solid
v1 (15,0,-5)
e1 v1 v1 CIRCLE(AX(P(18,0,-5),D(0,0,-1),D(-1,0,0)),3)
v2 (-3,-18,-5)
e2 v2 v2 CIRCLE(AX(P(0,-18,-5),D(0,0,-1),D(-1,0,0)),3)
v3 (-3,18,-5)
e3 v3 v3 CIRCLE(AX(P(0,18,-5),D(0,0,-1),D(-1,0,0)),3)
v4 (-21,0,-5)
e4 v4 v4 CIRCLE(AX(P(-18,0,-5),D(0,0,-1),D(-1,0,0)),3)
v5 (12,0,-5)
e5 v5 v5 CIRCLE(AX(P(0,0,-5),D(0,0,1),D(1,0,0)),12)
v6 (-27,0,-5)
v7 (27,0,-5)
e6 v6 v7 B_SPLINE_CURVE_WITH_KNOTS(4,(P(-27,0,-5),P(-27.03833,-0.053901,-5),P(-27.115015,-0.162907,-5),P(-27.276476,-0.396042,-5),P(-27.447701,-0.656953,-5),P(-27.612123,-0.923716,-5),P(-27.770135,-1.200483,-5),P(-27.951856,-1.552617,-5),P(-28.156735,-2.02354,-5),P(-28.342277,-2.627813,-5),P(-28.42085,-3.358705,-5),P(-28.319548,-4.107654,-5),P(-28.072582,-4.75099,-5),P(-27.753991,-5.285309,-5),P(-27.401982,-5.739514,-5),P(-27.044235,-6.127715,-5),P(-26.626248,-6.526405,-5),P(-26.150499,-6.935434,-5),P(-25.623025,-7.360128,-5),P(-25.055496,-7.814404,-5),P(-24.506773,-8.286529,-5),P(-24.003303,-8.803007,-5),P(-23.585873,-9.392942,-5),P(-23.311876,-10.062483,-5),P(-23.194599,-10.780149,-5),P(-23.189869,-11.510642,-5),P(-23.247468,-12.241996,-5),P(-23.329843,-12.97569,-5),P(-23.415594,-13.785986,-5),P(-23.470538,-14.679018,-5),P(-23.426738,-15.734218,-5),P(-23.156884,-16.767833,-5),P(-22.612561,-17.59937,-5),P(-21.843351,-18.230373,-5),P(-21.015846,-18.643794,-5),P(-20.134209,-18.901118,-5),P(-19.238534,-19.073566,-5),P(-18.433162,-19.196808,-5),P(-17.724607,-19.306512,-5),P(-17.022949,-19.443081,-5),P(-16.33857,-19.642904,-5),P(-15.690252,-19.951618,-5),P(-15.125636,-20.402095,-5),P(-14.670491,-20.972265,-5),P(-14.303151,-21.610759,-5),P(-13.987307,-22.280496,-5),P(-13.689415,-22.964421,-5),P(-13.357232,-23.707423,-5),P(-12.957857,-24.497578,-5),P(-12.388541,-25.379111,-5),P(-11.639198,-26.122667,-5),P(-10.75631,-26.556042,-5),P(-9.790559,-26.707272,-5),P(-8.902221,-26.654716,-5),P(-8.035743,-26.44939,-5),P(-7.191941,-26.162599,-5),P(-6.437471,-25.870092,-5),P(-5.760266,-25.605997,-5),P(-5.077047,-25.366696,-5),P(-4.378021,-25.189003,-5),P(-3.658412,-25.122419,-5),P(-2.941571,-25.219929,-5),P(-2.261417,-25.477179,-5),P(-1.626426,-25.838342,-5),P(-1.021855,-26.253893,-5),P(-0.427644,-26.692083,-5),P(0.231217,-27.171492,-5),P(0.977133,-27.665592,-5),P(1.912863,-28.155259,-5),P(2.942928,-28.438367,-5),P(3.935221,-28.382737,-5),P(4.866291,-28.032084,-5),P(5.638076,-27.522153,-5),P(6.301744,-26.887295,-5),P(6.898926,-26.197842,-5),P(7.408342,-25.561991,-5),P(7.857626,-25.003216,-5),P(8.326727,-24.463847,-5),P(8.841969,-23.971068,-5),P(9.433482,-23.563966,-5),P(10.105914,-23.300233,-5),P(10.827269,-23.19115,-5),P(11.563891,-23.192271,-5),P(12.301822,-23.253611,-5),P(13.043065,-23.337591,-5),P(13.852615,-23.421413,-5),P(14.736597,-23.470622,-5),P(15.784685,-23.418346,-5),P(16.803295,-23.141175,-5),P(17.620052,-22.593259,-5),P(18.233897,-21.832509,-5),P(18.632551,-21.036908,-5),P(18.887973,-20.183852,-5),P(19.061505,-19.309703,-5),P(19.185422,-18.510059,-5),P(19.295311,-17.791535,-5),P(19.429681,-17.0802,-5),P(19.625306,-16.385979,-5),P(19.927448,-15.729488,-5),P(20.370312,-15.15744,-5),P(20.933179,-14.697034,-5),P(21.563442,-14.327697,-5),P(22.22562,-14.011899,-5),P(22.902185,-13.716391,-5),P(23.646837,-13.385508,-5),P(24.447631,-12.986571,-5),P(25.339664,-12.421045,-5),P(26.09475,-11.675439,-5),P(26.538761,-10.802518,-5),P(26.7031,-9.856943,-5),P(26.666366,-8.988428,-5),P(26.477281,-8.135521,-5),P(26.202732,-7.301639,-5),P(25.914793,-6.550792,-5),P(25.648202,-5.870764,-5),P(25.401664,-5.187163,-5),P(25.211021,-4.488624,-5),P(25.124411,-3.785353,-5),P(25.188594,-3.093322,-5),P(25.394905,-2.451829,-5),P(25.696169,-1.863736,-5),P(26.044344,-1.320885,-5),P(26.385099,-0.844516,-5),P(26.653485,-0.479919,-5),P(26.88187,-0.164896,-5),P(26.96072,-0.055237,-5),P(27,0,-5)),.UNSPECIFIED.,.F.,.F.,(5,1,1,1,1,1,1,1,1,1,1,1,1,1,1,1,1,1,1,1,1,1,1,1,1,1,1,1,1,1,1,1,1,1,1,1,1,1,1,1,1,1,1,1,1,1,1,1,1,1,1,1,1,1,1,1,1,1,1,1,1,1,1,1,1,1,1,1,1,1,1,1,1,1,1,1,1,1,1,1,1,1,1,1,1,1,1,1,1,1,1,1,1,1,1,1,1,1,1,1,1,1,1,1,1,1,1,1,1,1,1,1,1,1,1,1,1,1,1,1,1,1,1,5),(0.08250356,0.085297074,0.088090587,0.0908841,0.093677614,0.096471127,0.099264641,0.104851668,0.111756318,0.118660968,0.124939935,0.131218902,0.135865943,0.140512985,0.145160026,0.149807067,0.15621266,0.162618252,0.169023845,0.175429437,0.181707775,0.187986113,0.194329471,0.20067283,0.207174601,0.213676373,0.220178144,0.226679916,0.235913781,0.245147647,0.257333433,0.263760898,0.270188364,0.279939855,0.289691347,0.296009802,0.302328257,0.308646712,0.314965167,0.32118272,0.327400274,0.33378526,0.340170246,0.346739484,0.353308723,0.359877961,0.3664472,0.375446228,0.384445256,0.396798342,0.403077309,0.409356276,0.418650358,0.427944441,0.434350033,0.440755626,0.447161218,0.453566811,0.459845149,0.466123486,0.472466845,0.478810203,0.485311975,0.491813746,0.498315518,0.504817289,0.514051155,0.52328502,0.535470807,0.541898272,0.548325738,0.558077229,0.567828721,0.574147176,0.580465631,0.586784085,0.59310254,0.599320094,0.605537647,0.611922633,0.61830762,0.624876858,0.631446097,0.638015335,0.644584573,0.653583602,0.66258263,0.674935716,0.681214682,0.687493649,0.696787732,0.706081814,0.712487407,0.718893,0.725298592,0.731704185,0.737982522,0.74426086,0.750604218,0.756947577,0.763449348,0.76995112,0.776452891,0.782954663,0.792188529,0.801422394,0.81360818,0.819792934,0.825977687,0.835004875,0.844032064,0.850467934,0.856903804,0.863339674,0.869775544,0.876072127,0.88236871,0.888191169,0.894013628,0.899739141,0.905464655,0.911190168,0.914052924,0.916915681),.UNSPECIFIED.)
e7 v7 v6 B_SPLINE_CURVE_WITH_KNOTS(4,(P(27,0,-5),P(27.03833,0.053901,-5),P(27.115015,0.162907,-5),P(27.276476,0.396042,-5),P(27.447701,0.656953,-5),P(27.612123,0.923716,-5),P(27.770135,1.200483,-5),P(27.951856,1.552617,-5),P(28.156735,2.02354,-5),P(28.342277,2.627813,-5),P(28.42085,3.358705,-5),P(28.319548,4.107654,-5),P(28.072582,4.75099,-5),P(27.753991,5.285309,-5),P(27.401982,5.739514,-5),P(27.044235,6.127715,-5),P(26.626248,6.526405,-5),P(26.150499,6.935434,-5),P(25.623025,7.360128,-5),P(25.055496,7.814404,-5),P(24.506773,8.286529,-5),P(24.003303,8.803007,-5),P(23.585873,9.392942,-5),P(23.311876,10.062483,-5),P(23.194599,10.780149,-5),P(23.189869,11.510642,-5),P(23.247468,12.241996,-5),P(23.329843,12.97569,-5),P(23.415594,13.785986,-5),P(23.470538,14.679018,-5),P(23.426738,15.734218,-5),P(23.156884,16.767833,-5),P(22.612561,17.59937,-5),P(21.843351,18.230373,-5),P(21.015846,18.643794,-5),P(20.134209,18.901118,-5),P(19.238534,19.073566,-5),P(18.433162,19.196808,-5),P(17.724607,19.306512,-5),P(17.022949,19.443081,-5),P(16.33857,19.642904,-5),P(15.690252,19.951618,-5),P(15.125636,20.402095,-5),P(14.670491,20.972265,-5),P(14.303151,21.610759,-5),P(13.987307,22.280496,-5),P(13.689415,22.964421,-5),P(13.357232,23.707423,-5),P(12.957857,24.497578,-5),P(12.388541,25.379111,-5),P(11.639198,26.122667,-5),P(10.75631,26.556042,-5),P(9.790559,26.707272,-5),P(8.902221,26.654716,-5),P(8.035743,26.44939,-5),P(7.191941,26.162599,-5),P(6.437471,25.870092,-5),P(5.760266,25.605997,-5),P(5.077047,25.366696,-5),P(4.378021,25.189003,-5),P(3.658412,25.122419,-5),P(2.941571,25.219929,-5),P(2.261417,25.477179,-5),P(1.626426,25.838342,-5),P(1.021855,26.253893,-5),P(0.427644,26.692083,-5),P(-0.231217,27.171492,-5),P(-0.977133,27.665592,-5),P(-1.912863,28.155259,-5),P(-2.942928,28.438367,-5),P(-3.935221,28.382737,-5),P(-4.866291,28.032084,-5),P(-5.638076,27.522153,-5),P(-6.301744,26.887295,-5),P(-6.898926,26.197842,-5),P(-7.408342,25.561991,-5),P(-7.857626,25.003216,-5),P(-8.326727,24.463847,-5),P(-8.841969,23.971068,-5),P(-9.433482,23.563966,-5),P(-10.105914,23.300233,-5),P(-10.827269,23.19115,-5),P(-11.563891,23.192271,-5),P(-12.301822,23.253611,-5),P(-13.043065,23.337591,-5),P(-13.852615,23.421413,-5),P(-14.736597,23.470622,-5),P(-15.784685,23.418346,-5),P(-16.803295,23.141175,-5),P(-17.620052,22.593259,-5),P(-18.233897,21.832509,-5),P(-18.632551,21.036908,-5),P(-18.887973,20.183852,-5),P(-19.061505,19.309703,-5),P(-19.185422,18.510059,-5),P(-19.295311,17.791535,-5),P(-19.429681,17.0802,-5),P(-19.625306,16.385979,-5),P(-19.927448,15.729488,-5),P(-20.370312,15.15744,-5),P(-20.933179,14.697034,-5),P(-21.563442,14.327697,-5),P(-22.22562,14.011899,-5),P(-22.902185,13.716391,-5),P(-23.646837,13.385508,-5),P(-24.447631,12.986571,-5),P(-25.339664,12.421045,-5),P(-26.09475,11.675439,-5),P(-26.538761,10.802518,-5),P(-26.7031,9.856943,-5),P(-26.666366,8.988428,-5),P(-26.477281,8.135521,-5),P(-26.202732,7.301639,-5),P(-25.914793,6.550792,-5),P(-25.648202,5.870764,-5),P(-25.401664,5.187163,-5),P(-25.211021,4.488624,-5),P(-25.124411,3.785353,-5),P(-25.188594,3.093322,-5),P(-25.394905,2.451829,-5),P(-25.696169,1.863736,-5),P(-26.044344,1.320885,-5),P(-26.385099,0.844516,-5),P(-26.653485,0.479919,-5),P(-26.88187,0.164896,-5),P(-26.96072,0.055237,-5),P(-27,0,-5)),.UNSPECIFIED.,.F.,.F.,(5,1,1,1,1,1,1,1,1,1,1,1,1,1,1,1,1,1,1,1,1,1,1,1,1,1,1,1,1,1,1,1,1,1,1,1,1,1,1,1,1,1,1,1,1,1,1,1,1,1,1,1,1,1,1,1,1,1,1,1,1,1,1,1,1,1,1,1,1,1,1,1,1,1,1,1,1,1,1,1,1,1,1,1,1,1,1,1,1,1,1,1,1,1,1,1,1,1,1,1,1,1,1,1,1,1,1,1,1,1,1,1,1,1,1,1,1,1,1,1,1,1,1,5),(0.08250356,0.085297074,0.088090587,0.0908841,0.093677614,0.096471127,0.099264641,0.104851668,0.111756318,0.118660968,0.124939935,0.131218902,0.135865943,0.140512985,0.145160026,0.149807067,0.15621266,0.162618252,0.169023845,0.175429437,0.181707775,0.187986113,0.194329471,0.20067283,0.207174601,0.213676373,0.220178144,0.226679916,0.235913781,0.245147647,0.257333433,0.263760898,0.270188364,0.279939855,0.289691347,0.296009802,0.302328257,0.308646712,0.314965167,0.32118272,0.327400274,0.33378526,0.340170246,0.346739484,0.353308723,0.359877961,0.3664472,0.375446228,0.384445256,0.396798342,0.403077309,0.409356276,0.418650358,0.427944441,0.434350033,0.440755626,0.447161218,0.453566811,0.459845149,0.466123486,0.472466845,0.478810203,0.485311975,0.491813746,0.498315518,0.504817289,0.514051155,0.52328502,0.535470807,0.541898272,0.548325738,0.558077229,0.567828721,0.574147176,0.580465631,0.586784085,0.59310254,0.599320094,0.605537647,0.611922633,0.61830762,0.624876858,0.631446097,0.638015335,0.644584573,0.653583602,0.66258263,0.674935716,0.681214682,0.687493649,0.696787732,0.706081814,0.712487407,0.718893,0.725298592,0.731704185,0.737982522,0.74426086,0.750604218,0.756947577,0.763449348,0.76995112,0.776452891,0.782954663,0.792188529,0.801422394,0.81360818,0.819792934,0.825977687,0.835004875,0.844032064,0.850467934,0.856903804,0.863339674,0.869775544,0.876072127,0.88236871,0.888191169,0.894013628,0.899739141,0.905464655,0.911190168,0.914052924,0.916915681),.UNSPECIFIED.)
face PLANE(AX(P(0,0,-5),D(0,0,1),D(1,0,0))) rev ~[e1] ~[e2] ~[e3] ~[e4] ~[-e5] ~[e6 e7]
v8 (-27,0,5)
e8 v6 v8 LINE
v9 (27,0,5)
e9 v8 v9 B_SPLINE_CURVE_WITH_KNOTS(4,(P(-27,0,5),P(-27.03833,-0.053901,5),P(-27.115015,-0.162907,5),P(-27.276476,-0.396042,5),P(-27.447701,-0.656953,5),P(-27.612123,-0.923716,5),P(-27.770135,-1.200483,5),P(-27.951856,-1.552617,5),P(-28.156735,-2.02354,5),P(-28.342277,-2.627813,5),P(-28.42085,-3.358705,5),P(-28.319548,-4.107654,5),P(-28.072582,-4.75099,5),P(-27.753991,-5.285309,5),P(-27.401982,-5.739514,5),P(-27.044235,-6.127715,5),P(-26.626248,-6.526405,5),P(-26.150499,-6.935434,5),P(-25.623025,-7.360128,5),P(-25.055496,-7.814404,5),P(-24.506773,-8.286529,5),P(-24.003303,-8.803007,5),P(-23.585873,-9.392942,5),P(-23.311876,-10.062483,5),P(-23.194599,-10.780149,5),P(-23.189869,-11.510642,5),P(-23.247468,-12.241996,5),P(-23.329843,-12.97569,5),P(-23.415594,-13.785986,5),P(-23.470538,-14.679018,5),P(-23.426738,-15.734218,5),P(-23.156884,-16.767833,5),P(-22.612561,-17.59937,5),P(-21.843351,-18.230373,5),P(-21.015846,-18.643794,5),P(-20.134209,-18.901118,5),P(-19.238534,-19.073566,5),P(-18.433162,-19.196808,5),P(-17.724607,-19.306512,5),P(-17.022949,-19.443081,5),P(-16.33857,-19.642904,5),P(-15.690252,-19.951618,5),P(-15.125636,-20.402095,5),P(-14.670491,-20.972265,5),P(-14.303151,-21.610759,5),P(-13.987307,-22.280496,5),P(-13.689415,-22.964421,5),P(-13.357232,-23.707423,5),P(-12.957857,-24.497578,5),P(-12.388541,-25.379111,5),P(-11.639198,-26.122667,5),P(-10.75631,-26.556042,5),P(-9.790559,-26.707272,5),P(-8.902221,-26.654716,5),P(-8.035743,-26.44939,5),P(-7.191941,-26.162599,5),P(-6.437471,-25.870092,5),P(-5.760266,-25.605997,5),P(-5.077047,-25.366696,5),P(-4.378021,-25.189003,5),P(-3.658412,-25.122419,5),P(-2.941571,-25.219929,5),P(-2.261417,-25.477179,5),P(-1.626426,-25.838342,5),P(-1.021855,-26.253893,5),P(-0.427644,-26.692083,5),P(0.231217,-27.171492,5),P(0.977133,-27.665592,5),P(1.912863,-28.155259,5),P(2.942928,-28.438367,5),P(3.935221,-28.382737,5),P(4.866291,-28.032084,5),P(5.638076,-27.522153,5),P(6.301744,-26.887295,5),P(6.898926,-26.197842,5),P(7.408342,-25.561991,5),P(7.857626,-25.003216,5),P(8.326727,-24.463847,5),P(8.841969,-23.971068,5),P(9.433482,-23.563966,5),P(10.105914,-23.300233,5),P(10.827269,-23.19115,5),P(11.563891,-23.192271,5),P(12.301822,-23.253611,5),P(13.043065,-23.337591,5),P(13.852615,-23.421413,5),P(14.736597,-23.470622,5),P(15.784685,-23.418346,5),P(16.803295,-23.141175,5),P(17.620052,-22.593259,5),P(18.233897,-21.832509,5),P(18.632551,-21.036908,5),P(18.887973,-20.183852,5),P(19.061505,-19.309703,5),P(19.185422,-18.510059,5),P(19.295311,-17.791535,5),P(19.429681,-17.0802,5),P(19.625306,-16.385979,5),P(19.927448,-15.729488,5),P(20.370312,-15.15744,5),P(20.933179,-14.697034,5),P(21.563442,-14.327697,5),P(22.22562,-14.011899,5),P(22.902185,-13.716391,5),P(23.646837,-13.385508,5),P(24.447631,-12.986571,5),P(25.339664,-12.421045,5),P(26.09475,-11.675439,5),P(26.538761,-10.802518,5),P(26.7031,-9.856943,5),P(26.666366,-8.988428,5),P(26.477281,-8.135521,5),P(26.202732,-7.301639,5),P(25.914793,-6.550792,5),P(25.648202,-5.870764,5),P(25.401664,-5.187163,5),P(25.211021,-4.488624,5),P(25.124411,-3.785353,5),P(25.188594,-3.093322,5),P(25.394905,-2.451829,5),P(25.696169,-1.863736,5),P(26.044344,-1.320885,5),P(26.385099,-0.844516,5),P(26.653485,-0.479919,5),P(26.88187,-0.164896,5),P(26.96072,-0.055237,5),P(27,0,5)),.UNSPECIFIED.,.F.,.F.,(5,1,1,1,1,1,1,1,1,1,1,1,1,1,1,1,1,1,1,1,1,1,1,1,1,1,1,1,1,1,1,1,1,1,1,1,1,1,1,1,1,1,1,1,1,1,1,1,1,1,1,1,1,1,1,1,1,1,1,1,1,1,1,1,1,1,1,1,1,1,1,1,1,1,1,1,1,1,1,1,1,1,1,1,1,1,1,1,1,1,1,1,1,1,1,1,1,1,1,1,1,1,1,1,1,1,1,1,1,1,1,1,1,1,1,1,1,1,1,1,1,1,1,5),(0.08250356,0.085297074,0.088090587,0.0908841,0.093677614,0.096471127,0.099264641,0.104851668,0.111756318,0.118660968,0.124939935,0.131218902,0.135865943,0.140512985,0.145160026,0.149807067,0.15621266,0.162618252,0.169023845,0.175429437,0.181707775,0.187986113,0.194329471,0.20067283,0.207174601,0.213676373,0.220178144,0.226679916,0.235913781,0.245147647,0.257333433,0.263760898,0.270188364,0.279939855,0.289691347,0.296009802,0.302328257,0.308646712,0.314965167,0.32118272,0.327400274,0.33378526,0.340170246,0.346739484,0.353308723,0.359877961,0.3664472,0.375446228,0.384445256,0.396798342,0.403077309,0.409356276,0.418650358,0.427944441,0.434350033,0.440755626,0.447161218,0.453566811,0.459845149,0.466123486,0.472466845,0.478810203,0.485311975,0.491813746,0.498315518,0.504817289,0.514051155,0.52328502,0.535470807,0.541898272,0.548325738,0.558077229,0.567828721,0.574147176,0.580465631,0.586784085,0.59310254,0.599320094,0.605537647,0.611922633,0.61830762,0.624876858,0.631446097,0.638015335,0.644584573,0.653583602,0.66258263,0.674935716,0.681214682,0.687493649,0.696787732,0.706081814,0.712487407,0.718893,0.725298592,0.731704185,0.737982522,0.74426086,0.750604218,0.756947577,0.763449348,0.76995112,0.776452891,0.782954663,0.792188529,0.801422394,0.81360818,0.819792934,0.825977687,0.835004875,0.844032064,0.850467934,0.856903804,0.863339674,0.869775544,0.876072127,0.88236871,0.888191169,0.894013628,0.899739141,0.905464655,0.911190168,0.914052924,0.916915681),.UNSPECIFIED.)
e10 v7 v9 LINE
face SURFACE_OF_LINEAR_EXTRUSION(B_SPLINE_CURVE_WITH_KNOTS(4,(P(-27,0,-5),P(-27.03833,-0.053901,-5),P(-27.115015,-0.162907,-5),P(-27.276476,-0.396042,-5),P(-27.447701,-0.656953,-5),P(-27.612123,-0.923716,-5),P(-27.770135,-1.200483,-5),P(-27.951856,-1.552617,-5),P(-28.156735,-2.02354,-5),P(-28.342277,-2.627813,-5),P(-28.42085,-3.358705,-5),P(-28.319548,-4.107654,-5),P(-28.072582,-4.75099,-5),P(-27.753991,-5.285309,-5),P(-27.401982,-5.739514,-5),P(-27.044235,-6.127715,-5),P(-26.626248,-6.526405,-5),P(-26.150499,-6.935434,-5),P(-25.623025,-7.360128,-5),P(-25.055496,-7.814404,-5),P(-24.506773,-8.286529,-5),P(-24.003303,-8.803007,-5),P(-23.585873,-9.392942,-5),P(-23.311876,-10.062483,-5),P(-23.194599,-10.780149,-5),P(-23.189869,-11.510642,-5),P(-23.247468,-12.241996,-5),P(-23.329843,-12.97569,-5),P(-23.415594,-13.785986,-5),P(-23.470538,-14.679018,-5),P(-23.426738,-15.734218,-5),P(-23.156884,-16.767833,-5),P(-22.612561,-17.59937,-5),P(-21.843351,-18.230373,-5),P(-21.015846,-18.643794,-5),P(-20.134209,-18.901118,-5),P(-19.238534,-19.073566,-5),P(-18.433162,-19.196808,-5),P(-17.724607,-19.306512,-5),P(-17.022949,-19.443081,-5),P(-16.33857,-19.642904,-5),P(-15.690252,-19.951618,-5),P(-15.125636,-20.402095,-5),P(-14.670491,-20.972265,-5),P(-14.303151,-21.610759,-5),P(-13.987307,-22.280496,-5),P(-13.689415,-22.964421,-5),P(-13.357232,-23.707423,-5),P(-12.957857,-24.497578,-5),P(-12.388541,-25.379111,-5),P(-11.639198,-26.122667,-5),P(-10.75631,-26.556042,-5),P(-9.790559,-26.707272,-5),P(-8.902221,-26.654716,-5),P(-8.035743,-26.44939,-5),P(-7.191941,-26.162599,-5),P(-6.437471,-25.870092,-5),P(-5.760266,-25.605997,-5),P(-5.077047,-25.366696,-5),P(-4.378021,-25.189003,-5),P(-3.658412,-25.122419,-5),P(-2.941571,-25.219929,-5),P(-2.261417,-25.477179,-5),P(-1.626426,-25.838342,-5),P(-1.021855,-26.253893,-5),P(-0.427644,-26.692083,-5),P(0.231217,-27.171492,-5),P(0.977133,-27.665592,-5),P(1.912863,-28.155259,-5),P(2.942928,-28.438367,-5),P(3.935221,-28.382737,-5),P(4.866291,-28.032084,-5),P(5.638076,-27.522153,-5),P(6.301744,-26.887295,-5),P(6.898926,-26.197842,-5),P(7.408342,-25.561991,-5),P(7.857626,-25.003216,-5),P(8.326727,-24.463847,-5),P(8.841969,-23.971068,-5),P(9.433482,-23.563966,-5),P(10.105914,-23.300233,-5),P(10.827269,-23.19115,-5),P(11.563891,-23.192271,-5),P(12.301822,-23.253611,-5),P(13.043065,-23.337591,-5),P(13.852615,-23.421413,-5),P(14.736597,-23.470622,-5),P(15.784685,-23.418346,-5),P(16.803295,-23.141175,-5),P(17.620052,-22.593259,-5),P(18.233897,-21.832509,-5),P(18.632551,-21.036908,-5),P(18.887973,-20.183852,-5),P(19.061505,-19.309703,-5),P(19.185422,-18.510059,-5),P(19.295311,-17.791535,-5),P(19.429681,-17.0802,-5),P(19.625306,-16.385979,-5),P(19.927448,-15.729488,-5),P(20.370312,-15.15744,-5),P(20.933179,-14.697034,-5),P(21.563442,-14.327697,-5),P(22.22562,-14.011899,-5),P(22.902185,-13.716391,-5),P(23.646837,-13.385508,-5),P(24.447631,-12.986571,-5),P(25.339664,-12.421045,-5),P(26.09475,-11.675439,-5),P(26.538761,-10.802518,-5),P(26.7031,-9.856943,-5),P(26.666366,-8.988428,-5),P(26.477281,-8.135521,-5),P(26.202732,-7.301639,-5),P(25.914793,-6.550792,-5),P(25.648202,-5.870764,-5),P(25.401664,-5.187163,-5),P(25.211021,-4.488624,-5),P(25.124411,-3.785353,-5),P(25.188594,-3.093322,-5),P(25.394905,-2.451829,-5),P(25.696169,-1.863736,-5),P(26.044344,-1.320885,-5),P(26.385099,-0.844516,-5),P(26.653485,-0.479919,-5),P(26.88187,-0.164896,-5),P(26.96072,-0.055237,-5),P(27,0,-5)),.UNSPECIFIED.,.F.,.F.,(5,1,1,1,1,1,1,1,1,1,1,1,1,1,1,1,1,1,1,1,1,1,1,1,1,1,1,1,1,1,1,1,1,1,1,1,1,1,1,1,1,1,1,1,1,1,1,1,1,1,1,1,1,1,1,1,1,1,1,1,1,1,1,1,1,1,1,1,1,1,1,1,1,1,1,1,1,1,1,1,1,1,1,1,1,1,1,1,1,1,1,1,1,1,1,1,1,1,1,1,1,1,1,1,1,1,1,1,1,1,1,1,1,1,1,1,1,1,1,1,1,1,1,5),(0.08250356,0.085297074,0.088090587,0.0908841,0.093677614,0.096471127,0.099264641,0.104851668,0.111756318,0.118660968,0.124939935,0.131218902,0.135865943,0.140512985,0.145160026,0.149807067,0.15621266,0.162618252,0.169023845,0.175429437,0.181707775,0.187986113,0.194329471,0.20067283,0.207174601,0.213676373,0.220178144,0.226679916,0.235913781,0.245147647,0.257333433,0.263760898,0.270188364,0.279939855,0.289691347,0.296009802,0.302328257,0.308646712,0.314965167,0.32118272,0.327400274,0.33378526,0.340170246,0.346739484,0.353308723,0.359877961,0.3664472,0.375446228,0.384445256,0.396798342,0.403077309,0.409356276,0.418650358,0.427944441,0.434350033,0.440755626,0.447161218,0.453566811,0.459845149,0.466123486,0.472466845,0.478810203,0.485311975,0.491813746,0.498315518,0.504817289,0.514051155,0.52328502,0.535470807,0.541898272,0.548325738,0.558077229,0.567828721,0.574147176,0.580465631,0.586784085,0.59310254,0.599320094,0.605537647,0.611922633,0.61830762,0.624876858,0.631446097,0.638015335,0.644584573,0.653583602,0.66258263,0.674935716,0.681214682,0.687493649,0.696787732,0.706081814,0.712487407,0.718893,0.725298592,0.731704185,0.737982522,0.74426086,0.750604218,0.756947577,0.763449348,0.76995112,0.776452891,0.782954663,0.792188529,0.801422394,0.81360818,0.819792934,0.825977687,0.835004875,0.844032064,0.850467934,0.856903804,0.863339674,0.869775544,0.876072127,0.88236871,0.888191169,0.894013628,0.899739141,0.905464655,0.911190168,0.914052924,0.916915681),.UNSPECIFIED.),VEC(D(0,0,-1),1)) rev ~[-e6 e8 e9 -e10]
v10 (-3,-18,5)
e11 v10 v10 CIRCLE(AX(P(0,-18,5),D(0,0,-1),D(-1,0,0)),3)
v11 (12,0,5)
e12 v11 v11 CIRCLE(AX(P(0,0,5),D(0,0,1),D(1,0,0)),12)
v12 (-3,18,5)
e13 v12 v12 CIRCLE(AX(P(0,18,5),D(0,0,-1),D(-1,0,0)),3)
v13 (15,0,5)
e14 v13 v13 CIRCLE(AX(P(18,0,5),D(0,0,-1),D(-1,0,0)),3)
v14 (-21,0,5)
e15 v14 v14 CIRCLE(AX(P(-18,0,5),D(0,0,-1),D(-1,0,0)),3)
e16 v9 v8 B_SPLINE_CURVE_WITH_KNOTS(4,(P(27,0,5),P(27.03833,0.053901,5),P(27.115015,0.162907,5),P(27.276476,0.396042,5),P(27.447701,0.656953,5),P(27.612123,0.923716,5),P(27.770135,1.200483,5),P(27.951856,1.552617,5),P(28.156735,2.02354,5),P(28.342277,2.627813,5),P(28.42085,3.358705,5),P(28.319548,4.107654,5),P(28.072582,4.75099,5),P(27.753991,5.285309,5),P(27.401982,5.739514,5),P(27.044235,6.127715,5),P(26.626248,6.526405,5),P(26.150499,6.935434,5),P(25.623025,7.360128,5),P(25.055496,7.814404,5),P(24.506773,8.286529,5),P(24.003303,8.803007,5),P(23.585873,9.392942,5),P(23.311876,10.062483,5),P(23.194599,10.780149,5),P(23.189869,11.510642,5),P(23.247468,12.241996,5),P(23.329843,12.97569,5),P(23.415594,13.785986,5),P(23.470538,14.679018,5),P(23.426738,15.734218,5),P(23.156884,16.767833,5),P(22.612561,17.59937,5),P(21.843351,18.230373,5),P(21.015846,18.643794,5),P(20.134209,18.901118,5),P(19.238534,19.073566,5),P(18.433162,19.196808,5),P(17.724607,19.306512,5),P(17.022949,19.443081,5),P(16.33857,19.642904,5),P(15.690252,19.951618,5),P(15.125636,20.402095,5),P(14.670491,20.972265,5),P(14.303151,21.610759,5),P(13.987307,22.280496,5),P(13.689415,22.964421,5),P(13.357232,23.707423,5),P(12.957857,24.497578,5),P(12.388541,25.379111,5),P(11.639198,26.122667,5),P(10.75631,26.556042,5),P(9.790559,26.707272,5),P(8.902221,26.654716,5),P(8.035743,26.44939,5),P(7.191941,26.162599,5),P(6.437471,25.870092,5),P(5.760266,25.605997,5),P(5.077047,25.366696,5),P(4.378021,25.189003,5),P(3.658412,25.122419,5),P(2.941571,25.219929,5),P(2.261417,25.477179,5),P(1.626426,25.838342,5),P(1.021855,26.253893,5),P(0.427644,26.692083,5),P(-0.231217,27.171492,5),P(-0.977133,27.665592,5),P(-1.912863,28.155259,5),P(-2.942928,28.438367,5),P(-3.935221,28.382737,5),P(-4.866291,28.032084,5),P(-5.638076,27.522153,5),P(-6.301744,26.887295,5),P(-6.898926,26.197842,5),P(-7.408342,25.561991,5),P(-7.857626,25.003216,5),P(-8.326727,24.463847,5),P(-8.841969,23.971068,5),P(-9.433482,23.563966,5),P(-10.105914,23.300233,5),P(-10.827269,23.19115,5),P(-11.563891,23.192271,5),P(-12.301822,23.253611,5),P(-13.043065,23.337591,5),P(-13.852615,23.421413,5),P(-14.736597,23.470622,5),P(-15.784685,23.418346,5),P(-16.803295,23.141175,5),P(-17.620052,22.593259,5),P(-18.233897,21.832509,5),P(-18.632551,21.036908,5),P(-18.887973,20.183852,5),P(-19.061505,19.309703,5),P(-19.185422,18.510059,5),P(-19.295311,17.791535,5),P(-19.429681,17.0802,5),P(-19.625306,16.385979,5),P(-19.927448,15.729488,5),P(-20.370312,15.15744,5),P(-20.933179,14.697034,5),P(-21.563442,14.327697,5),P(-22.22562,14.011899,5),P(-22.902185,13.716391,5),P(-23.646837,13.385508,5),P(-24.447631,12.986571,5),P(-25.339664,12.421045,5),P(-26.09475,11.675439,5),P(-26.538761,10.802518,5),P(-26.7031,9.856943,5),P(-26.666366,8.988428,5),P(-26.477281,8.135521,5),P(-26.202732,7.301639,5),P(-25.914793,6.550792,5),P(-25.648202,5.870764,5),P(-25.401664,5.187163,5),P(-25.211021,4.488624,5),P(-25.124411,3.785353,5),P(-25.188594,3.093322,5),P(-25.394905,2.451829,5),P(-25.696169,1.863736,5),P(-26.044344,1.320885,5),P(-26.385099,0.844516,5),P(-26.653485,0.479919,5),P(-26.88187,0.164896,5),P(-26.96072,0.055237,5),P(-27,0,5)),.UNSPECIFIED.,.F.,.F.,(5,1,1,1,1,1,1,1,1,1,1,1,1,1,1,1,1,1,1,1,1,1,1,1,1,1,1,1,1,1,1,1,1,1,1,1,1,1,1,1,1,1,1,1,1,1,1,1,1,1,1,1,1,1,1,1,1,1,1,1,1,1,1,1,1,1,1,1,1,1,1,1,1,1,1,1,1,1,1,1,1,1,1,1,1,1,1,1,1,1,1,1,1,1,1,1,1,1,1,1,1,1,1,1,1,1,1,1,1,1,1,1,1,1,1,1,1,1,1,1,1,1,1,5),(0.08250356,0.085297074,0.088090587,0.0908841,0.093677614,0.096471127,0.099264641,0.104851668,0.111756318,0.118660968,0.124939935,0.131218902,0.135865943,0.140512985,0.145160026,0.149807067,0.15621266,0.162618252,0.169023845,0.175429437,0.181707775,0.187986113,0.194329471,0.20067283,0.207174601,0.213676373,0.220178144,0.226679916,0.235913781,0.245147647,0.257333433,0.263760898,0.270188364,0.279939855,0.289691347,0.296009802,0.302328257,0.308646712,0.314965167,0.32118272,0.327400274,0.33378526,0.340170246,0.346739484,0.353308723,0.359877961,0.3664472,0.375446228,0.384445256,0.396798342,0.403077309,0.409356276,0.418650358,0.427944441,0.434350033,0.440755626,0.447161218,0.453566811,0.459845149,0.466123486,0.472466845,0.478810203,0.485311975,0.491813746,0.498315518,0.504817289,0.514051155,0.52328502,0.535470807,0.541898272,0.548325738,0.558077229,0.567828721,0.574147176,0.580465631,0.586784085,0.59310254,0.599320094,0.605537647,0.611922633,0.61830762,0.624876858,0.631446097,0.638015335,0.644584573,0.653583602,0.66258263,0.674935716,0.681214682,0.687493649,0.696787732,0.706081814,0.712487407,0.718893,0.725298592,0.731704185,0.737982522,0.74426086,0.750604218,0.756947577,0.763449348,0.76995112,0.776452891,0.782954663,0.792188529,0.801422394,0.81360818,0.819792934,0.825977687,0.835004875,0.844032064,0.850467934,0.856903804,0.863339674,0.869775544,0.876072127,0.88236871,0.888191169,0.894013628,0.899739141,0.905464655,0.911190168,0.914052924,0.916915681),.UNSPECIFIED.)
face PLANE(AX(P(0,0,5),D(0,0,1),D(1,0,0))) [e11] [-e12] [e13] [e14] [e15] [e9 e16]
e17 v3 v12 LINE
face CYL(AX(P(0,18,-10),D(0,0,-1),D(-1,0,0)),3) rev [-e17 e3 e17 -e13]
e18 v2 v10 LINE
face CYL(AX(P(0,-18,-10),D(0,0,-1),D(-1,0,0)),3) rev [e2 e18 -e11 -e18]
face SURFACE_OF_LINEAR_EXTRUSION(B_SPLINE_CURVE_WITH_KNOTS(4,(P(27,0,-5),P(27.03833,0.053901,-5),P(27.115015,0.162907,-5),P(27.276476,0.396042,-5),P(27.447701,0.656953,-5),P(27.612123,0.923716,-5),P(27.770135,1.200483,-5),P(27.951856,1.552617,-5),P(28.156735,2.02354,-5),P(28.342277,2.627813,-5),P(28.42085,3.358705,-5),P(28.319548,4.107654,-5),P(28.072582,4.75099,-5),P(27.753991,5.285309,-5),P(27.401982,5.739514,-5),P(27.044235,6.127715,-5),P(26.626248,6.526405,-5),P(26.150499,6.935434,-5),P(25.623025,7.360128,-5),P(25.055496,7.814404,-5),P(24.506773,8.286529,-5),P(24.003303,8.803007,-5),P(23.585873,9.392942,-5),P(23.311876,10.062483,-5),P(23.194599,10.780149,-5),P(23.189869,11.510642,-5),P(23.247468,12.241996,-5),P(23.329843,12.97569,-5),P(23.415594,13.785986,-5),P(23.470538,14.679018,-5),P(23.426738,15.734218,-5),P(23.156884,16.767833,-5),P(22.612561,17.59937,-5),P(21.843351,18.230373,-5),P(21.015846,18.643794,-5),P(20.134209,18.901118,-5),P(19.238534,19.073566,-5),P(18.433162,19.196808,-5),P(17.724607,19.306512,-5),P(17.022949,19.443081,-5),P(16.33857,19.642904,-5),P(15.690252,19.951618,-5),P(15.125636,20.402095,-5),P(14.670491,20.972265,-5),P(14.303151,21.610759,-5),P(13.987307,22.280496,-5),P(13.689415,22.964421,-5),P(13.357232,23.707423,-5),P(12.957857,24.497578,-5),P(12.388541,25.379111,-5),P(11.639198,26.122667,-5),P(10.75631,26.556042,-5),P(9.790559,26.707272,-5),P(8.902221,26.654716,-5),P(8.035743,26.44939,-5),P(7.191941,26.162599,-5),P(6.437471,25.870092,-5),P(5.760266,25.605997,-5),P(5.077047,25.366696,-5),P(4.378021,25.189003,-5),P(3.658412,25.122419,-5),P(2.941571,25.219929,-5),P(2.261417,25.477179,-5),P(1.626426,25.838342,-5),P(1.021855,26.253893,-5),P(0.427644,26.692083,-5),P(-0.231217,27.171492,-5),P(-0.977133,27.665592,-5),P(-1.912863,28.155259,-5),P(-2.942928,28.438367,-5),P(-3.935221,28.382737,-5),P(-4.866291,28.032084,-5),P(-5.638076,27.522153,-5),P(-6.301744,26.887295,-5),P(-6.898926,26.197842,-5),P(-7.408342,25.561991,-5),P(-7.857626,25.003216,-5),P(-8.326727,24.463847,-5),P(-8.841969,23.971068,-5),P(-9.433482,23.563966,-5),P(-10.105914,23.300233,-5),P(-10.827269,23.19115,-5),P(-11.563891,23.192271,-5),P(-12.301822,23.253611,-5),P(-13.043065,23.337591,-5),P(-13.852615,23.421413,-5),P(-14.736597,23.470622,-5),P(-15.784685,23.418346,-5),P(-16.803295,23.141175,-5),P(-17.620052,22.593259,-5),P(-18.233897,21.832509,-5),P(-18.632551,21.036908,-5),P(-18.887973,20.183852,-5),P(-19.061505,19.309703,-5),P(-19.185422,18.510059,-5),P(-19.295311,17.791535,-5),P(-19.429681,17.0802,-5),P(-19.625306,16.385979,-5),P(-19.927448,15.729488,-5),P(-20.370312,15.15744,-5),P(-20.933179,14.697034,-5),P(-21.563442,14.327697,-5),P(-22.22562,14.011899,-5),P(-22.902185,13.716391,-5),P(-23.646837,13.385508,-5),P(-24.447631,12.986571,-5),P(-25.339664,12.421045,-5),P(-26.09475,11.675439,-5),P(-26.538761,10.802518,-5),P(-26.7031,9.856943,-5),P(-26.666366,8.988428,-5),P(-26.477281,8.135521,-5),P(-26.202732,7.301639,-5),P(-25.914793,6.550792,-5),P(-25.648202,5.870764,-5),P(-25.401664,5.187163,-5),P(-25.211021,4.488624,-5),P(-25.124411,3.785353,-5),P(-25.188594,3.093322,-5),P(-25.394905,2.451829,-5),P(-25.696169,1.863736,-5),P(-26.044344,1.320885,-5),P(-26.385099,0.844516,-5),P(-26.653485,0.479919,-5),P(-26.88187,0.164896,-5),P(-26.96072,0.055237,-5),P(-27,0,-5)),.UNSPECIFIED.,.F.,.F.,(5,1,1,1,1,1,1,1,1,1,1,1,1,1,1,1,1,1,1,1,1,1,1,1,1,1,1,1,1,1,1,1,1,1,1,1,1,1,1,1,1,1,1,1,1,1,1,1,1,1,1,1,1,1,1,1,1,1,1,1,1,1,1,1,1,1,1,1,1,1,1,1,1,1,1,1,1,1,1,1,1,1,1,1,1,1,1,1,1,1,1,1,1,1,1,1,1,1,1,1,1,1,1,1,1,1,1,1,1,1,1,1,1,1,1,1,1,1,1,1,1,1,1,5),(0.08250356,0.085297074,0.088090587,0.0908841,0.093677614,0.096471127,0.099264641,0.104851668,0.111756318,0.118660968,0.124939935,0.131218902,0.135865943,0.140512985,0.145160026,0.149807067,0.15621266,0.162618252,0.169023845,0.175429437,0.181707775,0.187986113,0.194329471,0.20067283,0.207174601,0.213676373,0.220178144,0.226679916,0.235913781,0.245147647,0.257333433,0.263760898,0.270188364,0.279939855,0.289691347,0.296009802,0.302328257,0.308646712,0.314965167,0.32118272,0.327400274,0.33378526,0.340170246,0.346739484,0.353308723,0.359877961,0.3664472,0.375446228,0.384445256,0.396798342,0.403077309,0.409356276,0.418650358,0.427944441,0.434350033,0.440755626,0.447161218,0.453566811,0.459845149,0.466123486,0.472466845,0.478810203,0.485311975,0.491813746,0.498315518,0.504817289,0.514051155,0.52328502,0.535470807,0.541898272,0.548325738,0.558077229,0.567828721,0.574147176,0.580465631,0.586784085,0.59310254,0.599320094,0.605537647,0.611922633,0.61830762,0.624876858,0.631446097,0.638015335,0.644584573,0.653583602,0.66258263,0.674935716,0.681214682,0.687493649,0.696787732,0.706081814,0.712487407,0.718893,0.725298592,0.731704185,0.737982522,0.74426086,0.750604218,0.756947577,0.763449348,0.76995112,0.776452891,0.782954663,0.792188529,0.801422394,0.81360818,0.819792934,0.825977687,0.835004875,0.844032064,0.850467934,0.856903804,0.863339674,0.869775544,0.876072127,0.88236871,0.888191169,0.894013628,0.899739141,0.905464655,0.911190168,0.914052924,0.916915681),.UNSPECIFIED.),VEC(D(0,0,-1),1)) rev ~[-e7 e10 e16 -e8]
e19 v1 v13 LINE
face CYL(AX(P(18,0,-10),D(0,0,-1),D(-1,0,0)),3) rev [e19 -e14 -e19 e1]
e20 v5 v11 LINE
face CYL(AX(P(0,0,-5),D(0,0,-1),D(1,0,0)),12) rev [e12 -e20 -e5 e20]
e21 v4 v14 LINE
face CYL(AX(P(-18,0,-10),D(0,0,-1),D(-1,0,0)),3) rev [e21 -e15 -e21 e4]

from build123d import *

# Parameters (mm, degrees)
EXTRUDE_1_DEPTH          = 5
EXTRUDE_1_DEPTH_BACK     = 5
SKETCH_1_R               = 12
CUT_EXTRUDE_1_DEPTH      = 10
CUT_EXTRUDE_1_DEPTH_BACK = 10
SKETCH_2_R               = 3


with BuildPart() as part:
    # 草图1 → 凸台-拉伸1 (new, two sides: drawn at the far end of the back side and taken through both)
    with BuildSketch(Plane.XY.offset(-EXTRUDE_1_DEPTH_BACK)):
        with BuildLine():
            add(Edge.make_bspline(
                [(27, 1e-09), (27.038329618, 0.053901025), (27.115014782, 0.162907478), (27.276476053, 0.396041545), (27.447701282, 0.656953046), (27.612122564, 0.923715907), (27.77013463, 1.200483311), (27.951855971, 1.552617031), (28.156734998, 2.023540025), (28.342276646, 2.627812976), (28.420849834, 3.358705174), (28.319548283, 4.107654001), (28.072581926, 4.750989723), (27.753990708, 5.285309302), (27.401982213, 5.739513757), (27.044235493, 6.127714964), (26.626247568, 6.526405154), (26.150499336, 6.935434499), (25.623024953, 7.3601277), (25.055495548, 7.814403897), (24.506772541, 8.286529313), (24.003302601, 8.803007081), (23.585873423, 9.392941702), (23.31187603, 10.062482961), (23.194598855, 10.780149453), (23.189869052, 11.510641827), (23.247468165, 12.241995777), (23.329842582, 12.97569032), (23.415594479, 13.785986393), (23.470538448, 14.679018115), (23.426737842, 15.734217744), (23.156884114, 16.767833322), (22.612560688, 17.599369689), (21.84335094, 18.230373336), (21.015845602, 18.643793933), (20.134208597, 18.901118206), (19.238533525, 19.073565794), (18.433162473, 19.196807948), (17.724607482, 19.306511945), (17.022949353, 19.443080766), (16.338569744, 19.642903655), (15.690252149, 19.951618164), (15.125636448, 20.402094584), (14.670490855, 20.972264674), (14.303151, 21.610758753), (13.987307124, 22.280495924), (13.689414504, 22.96442087), (13.357231745, 23.707422844), (12.957856931, 24.497578402), (12.388540605, 25.379111046), (11.639197645, 26.122667498), (10.756310084, 26.556041748), (9.790558951, 26.707272115), (8.902220986, 26.654715978), (8.035742526, 26.449390283), (7.191940868, 26.16259901), (6.437470652, 25.870092195), (5.760265662, 25.605997025), (5.077046925, 25.366696387), (4.378020568, 25.189003235), (3.658412294, 25.122419192), (2.941571057, 25.219929274), (2.261416852, 25.477179462), (1.626425783, 25.838341717), (1.021855057, 26.253892778), (0.427643673, 26.692083201), (-0.231217095, 27.171491874), (-0.977133422, 27.665592153), (-1.912863319, 28.155258624), (-2.942927586, 28.438366773), (-3.935220887, 28.382736741), (-4.866290965, 28.032083548), (-5.638076363, 27.52215309), (-6.301744232, 26.887295269), (-6.898925754, 26.197841641), (-7.408342119, 25.561990959), (-7.857626062, 25.003216317), (-8.326727195, 24.463846974), (-8.841968697, 23.971068285), (-9.433482102, 23.563966036), (-10.105913977, 23.300232704), (-10.827268555, 23.191150104), (-11.563890575, 23.192271496), (-12.301821917, 23.253611262), (-13.043064606, 23.337591158), (-13.852614567, 23.421413438), (-14.736596765, 23.470622482), (-15.784684584, 23.418346403), (-16.803294852, 23.14117459), (-17.620051727, 22.593258657), (-18.233896656, 21.832508827), (-18.632550642, 21.03690751), (-18.887972702, 20.183852311), (-19.061504835, 19.309702993), (-19.185421882, 18.510059229), (-19.295310774, 17.791534889), (-19.42968052, 17.080199839), (-19.625305718, 16.385978603), (-19.92744815, 15.729487649), (-20.370312213, 15.15743979), (-20.933179139, 14.697034361), (-21.563441944, 14.327696552), (-22.225620236, 14.011899447), (-22.902184704, 13.716390883), (-23.646836794, 13.385507739), (-24.447630912, 12.986570991), (-25.339663658, 12.421045424), (-26.094750311, 11.675439171), (-26.538761078, 10.802517772), (-26.703100421, 9.85694291), (-26.666365821, 8.988428209), (-26.477281436, 8.135521353), (-26.202732395, 7.301639297), (-25.914793282, 6.550792045), (-25.648201985, 5.870763507), (-25.401664383, 5.187163079), (-25.211021331, 4.488624078), (-25.124411004, 3.785352657), (-25.188594434, 3.093321998), (-25.394905104, 2.451828627), (-25.696169113, 1.863735812), (-26.044343878, 1.320885268), (-26.385099144, 0.844516455), (-26.65348463, 0.479919104), (-26.881869664, 0.164896492), (-26.960720302, 0.055237075), (-27, -1e-09)],
                knots=[0.08250356, 0.08250356, 0.08250356, 0.08250356, 0.08250356, 0.085297074, 0.088090587, 0.0908841, 0.093677614, 0.096471127, 0.099264641, 0.104851668, 0.111756318, 0.118660968, 0.124939935, 0.131218902, 0.135865943, 0.140512985, 0.145160026, 0.149807067, 0.15621266, 0.162618252, 0.169023845, 0.175429437, 0.181707775, 0.187986113, 0.194329471, 0.20067283, 0.207174601, 0.213676373, 0.220178144, 0.226679916, 0.235913781, 0.245147647, 0.257333433, 0.263760898, 0.270188364, 0.279939855, 0.289691347, 0.296009802, 0.302328257, 0.308646712, 0.314965167, 0.32118272, 0.327400274, 0.33378526, 0.340170246, 0.346739484, 0.353308723, 0.359877961, 0.3664472, 0.375446228, 0.384445256, 0.396798342, 0.403077309, 0.409356276, 0.418650358, 0.427944441, 0.434350033, 0.440755626, 0.447161218, 0.453566811, 0.459845149, 0.466123486, 0.472466845, 0.478810203, 0.485311975, 0.491813746, 0.498315518, 0.504817289, 0.514051155, 0.52328502, 0.535470807, 0.541898272, 0.548325738, 0.558077229, 0.567828721, 0.574147176, 0.580465631, 0.586784085, 0.59310254, 0.599320094, 0.605537647, 0.611922633, 0.61830762, 0.624876858, 0.631446097, 0.638015335, 0.644584573, 0.653583602, 0.66258263, 0.674935716, 0.681214682, 0.687493649, 0.696787732, 0.706081814, 0.712487407, 0.718893, 0.725298592, 0.731704185, 0.737982522, 0.74426086, 0.750604218, 0.756947577, 0.763449348, 0.76995112, 0.776452891, 0.782954663, 0.792188529, 0.801422394, 0.81360818, 0.819792934, 0.825977687, 0.835004875, 0.844032064, 0.850467934, 0.856903804, 0.863339674, 0.869775544, 0.876072127, 0.88236871, 0.888191169, 0.894013628, 0.899739141, 0.905464655, 0.911190168, 0.914052924, 0.916915681, 0.916915681, 0.916915681, 0.916915681, 0.916915681], degree=4))
            add(Edge.make_bspline(
                [(-27, -1e-09), (-27.038329618, -0.053901025), (-27.115014782, -0.162907478), (-27.276476053, -0.396041545), (-27.447701282, -0.656953046), (-27.612122564, -0.923715907), (-27.77013463, -1.200483311), (-27.951855971, -1.552617031), (-28.156734998, -2.023540025), (-28.342276646, -2.627812976), (-28.420849834, -3.358705174), (-28.319548283, -4.107654001), (-28.072581926, -4.750989723), (-27.753990708, -5.285309302), (-27.401982213, -5.739513757), (-27.044235493, -6.127714964), (-26.626247568, -6.526405154), (-26.150499336, -6.935434499), (-25.623024953, -7.3601277), (-25.055495548, -7.814403897), (-24.506772541, -8.286529313), (-24.003302601, -8.803007081), (-23.585873423, -9.392941702), (-23.31187603, -10.062482961), (-23.194598855, -10.780149453), (-23.189869052, -11.510641827), (-23.247468165, -12.241995777), (-23.329842582, -12.97569032), (-23.415594479, -13.785986393), (-23.470538448, -14.679018115), (-23.426737842, -15.734217744), (-23.156884114, -16.767833322), (-22.612560688, -17.599369689), (-21.84335094, -18.230373336), (-21.015845602, -18.643793933), (-20.134208597, -18.901118206), (-19.238533525, -19.073565794), (-18.433162473, -19.196807948), (-17.724607482, -19.306511945), (-17.022949353, -19.443080766), (-16.338569744, -19.642903655), (-15.690252149, -19.951618164), (-15.125636448, -20.402094584), (-14.670490855, -20.972264674), (-14.303151, -21.610758753), (-13.987307124, -22.280495924), (-13.689414504, -22.96442087), (-13.357231745, -23.707422844), (-12.957856931, -24.497578402), (-12.388540605, -25.379111046), (-11.639197645, -26.122667498), (-10.756310084, -26.556041748), (-9.790558951, -26.707272115), (-8.902220986, -26.654715978), (-8.035742526, -26.449390283), (-7.191940868, -26.16259901), (-6.437470652, -25.870092195), (-5.760265662, -25.605997025), (-5.077046925, -25.366696387), (-4.378020568, -25.189003235), (-3.658412294, -25.122419192), (-2.941571057, -25.219929274), (-2.261416852, -25.477179462), (-1.626425783, -25.838341717), (-1.021855057, -26.253892778), (-0.427643673, -26.692083201), (0.231217095, -27.171491874), (0.977133422, -27.665592153), (1.912863319, -28.155258624), (2.942927586, -28.438366773), (3.935220887, -28.382736741), (4.866290965, -28.032083548), (5.638076363, -27.52215309), (6.301744232, -26.887295269), (6.898925754, -26.197841641), (7.408342119, -25.561990959), (7.857626062, -25.003216317), (8.326727195, -24.463846974), (8.841968697, -23.971068285), (9.433482102, -23.563966036), (10.105913977, -23.300232704), (10.827268555, -23.191150104), (11.563890575, -23.192271496), (12.301821917, -23.253611262), (13.043064606, -23.337591158), (13.852614567, -23.421413438), (14.736596765, -23.470622482), (15.784684584, -23.418346403), (16.803294852, -23.14117459), (17.620051727, -22.593258657), (18.233896656, -21.832508827), (18.632550642, -21.03690751), (18.887972702, -20.183852311), (19.061504835, -19.309702993), (19.185421882, -18.510059229), (19.295310774, -17.791534889), (19.42968052, -17.080199839), (19.625305718, -16.385978603), (19.92744815, -15.729487649), (20.370312213, -15.15743979), (20.933179139, -14.697034361), (21.563441944, -14.327696552), (22.225620236, -14.011899447), (22.902184704, -13.716390883), (23.646836794, -13.385507739), (24.447630912, -12.986570991), (25.339663658, -12.421045424), (26.094750311, -11.675439171), (26.538761078, -10.802517772), (26.703100421, -9.85694291), (26.666365821, -8.988428209), (26.477281436, -8.135521353), (26.202732394, -7.301639297), (25.914793282, -6.550792045), (25.648201985, -5.870763507), (25.401664383, -5.187163079), (25.211021331, -4.488624078), (25.124411004, -3.785352657), (25.188594434, -3.093321998), (25.394905104, -2.451828627), (25.696169113, -1.863735812), (26.044343878, -1.320885268), (26.385099144, -0.844516455), (26.65348463, -0.479919104), (26.881869664, -0.164896493), (26.960720302, -0.055237076), (27, 1e-09)],
                knots=[0.08250356, 0.08250356, 0.08250356, 0.08250356, 0.08250356, 0.085297074, 0.088090587, 0.0908841, 0.093677614, 0.096471127, 0.099264641, 0.104851668, 0.111756318, 0.118660968, 0.124939935, 0.131218902, 0.135865943, 0.140512985, 0.145160026, 0.149807067, 0.15621266, 0.162618252, 0.169023845, 0.175429437, 0.181707775, 0.187986113, 0.194329471, 0.20067283, 0.207174601, 0.213676373, 0.220178144, 0.226679916, 0.235913781, 0.245147647, 0.257333433, 0.263760898, 0.270188364, 0.279939855, 0.289691347, 0.296009802, 0.302328257, 0.308646712, 0.314965167, 0.32118272, 0.327400274, 0.33378526, 0.340170246, 0.346739484, 0.353308723, 0.359877961, 0.3664472, 0.375446228, 0.384445256, 0.396798342, 0.403077309, 0.409356276, 0.418650358, 0.427944441, 0.434350033, 0.440755626, 0.447161218, 0.453566811, 0.459845149, 0.466123486, 0.472466845, 0.478810203, 0.485311975, 0.491813746, 0.498315518, 0.504817289, 0.514051155, 0.52328502, 0.535470807, 0.541898272, 0.548325738, 0.558077229, 0.567828721, 0.574147176, 0.580465631, 0.586784085, 0.59310254, 0.599320094, 0.605537647, 0.611922633, 0.61830762, 0.624876858, 0.631446097, 0.638015335, 0.644584573, 0.653583602, 0.66258263, 0.674935716, 0.681214682, 0.687493649, 0.696787732, 0.706081814, 0.712487407, 0.718893, 0.725298592, 0.731704185, 0.737982522, 0.74426086, 0.750604218, 0.756947577, 0.763449348, 0.76995112, 0.776452891, 0.782954663, 0.792188529, 0.801422394, 0.81360818, 0.819792934, 0.825977687, 0.835004875, 0.844032064, 0.850467934, 0.856903804, 0.863339674, 0.869775544, 0.876072127, 0.88236871, 0.888191169, 0.894013628, 0.899739141, 0.905464655, 0.911190168, 0.914052924, 0.916915681, 0.916915681, 0.916915681, 0.916915681, 0.916915681], degree=4))
        make_face()
        Circle(SKETCH_1_R, mode=Mode.SUBTRACT)
    extrude(amount=EXTRUDE_1_DEPTH + EXTRUDE_1_DEPTH_BACK)

    # 草图2 → 切除-拉伸1 (cut, two sides: drawn at the far end of the back side and taken through both)
    with BuildSketch(Plane.XY.offset(-CUT_EXTRUDE_1_DEPTH_BACK)):
        with Locations(Location((18, 0, 0), (0, 0, 180))):
            Circle(SKETCH_2_R)
        with Locations(Location((0, -18, 0), (0, 0, 180))):
            Circle(SKETCH_2_R)
        with Locations(Location((-18, 0, 0), (0, 0, 180))):
            Circle(SKETCH_2_R)
        with Locations(Location((0, 18, 0), (0, 0, 180))):
            Circle(SKETCH_2_R)
    extrude(amount=CUT_EXTRUDE_1_DEPTH + CUT_EXTRUDE_1_DEPTH_BACK, mode=Mode.SUBTRACT)


solid = part.part
